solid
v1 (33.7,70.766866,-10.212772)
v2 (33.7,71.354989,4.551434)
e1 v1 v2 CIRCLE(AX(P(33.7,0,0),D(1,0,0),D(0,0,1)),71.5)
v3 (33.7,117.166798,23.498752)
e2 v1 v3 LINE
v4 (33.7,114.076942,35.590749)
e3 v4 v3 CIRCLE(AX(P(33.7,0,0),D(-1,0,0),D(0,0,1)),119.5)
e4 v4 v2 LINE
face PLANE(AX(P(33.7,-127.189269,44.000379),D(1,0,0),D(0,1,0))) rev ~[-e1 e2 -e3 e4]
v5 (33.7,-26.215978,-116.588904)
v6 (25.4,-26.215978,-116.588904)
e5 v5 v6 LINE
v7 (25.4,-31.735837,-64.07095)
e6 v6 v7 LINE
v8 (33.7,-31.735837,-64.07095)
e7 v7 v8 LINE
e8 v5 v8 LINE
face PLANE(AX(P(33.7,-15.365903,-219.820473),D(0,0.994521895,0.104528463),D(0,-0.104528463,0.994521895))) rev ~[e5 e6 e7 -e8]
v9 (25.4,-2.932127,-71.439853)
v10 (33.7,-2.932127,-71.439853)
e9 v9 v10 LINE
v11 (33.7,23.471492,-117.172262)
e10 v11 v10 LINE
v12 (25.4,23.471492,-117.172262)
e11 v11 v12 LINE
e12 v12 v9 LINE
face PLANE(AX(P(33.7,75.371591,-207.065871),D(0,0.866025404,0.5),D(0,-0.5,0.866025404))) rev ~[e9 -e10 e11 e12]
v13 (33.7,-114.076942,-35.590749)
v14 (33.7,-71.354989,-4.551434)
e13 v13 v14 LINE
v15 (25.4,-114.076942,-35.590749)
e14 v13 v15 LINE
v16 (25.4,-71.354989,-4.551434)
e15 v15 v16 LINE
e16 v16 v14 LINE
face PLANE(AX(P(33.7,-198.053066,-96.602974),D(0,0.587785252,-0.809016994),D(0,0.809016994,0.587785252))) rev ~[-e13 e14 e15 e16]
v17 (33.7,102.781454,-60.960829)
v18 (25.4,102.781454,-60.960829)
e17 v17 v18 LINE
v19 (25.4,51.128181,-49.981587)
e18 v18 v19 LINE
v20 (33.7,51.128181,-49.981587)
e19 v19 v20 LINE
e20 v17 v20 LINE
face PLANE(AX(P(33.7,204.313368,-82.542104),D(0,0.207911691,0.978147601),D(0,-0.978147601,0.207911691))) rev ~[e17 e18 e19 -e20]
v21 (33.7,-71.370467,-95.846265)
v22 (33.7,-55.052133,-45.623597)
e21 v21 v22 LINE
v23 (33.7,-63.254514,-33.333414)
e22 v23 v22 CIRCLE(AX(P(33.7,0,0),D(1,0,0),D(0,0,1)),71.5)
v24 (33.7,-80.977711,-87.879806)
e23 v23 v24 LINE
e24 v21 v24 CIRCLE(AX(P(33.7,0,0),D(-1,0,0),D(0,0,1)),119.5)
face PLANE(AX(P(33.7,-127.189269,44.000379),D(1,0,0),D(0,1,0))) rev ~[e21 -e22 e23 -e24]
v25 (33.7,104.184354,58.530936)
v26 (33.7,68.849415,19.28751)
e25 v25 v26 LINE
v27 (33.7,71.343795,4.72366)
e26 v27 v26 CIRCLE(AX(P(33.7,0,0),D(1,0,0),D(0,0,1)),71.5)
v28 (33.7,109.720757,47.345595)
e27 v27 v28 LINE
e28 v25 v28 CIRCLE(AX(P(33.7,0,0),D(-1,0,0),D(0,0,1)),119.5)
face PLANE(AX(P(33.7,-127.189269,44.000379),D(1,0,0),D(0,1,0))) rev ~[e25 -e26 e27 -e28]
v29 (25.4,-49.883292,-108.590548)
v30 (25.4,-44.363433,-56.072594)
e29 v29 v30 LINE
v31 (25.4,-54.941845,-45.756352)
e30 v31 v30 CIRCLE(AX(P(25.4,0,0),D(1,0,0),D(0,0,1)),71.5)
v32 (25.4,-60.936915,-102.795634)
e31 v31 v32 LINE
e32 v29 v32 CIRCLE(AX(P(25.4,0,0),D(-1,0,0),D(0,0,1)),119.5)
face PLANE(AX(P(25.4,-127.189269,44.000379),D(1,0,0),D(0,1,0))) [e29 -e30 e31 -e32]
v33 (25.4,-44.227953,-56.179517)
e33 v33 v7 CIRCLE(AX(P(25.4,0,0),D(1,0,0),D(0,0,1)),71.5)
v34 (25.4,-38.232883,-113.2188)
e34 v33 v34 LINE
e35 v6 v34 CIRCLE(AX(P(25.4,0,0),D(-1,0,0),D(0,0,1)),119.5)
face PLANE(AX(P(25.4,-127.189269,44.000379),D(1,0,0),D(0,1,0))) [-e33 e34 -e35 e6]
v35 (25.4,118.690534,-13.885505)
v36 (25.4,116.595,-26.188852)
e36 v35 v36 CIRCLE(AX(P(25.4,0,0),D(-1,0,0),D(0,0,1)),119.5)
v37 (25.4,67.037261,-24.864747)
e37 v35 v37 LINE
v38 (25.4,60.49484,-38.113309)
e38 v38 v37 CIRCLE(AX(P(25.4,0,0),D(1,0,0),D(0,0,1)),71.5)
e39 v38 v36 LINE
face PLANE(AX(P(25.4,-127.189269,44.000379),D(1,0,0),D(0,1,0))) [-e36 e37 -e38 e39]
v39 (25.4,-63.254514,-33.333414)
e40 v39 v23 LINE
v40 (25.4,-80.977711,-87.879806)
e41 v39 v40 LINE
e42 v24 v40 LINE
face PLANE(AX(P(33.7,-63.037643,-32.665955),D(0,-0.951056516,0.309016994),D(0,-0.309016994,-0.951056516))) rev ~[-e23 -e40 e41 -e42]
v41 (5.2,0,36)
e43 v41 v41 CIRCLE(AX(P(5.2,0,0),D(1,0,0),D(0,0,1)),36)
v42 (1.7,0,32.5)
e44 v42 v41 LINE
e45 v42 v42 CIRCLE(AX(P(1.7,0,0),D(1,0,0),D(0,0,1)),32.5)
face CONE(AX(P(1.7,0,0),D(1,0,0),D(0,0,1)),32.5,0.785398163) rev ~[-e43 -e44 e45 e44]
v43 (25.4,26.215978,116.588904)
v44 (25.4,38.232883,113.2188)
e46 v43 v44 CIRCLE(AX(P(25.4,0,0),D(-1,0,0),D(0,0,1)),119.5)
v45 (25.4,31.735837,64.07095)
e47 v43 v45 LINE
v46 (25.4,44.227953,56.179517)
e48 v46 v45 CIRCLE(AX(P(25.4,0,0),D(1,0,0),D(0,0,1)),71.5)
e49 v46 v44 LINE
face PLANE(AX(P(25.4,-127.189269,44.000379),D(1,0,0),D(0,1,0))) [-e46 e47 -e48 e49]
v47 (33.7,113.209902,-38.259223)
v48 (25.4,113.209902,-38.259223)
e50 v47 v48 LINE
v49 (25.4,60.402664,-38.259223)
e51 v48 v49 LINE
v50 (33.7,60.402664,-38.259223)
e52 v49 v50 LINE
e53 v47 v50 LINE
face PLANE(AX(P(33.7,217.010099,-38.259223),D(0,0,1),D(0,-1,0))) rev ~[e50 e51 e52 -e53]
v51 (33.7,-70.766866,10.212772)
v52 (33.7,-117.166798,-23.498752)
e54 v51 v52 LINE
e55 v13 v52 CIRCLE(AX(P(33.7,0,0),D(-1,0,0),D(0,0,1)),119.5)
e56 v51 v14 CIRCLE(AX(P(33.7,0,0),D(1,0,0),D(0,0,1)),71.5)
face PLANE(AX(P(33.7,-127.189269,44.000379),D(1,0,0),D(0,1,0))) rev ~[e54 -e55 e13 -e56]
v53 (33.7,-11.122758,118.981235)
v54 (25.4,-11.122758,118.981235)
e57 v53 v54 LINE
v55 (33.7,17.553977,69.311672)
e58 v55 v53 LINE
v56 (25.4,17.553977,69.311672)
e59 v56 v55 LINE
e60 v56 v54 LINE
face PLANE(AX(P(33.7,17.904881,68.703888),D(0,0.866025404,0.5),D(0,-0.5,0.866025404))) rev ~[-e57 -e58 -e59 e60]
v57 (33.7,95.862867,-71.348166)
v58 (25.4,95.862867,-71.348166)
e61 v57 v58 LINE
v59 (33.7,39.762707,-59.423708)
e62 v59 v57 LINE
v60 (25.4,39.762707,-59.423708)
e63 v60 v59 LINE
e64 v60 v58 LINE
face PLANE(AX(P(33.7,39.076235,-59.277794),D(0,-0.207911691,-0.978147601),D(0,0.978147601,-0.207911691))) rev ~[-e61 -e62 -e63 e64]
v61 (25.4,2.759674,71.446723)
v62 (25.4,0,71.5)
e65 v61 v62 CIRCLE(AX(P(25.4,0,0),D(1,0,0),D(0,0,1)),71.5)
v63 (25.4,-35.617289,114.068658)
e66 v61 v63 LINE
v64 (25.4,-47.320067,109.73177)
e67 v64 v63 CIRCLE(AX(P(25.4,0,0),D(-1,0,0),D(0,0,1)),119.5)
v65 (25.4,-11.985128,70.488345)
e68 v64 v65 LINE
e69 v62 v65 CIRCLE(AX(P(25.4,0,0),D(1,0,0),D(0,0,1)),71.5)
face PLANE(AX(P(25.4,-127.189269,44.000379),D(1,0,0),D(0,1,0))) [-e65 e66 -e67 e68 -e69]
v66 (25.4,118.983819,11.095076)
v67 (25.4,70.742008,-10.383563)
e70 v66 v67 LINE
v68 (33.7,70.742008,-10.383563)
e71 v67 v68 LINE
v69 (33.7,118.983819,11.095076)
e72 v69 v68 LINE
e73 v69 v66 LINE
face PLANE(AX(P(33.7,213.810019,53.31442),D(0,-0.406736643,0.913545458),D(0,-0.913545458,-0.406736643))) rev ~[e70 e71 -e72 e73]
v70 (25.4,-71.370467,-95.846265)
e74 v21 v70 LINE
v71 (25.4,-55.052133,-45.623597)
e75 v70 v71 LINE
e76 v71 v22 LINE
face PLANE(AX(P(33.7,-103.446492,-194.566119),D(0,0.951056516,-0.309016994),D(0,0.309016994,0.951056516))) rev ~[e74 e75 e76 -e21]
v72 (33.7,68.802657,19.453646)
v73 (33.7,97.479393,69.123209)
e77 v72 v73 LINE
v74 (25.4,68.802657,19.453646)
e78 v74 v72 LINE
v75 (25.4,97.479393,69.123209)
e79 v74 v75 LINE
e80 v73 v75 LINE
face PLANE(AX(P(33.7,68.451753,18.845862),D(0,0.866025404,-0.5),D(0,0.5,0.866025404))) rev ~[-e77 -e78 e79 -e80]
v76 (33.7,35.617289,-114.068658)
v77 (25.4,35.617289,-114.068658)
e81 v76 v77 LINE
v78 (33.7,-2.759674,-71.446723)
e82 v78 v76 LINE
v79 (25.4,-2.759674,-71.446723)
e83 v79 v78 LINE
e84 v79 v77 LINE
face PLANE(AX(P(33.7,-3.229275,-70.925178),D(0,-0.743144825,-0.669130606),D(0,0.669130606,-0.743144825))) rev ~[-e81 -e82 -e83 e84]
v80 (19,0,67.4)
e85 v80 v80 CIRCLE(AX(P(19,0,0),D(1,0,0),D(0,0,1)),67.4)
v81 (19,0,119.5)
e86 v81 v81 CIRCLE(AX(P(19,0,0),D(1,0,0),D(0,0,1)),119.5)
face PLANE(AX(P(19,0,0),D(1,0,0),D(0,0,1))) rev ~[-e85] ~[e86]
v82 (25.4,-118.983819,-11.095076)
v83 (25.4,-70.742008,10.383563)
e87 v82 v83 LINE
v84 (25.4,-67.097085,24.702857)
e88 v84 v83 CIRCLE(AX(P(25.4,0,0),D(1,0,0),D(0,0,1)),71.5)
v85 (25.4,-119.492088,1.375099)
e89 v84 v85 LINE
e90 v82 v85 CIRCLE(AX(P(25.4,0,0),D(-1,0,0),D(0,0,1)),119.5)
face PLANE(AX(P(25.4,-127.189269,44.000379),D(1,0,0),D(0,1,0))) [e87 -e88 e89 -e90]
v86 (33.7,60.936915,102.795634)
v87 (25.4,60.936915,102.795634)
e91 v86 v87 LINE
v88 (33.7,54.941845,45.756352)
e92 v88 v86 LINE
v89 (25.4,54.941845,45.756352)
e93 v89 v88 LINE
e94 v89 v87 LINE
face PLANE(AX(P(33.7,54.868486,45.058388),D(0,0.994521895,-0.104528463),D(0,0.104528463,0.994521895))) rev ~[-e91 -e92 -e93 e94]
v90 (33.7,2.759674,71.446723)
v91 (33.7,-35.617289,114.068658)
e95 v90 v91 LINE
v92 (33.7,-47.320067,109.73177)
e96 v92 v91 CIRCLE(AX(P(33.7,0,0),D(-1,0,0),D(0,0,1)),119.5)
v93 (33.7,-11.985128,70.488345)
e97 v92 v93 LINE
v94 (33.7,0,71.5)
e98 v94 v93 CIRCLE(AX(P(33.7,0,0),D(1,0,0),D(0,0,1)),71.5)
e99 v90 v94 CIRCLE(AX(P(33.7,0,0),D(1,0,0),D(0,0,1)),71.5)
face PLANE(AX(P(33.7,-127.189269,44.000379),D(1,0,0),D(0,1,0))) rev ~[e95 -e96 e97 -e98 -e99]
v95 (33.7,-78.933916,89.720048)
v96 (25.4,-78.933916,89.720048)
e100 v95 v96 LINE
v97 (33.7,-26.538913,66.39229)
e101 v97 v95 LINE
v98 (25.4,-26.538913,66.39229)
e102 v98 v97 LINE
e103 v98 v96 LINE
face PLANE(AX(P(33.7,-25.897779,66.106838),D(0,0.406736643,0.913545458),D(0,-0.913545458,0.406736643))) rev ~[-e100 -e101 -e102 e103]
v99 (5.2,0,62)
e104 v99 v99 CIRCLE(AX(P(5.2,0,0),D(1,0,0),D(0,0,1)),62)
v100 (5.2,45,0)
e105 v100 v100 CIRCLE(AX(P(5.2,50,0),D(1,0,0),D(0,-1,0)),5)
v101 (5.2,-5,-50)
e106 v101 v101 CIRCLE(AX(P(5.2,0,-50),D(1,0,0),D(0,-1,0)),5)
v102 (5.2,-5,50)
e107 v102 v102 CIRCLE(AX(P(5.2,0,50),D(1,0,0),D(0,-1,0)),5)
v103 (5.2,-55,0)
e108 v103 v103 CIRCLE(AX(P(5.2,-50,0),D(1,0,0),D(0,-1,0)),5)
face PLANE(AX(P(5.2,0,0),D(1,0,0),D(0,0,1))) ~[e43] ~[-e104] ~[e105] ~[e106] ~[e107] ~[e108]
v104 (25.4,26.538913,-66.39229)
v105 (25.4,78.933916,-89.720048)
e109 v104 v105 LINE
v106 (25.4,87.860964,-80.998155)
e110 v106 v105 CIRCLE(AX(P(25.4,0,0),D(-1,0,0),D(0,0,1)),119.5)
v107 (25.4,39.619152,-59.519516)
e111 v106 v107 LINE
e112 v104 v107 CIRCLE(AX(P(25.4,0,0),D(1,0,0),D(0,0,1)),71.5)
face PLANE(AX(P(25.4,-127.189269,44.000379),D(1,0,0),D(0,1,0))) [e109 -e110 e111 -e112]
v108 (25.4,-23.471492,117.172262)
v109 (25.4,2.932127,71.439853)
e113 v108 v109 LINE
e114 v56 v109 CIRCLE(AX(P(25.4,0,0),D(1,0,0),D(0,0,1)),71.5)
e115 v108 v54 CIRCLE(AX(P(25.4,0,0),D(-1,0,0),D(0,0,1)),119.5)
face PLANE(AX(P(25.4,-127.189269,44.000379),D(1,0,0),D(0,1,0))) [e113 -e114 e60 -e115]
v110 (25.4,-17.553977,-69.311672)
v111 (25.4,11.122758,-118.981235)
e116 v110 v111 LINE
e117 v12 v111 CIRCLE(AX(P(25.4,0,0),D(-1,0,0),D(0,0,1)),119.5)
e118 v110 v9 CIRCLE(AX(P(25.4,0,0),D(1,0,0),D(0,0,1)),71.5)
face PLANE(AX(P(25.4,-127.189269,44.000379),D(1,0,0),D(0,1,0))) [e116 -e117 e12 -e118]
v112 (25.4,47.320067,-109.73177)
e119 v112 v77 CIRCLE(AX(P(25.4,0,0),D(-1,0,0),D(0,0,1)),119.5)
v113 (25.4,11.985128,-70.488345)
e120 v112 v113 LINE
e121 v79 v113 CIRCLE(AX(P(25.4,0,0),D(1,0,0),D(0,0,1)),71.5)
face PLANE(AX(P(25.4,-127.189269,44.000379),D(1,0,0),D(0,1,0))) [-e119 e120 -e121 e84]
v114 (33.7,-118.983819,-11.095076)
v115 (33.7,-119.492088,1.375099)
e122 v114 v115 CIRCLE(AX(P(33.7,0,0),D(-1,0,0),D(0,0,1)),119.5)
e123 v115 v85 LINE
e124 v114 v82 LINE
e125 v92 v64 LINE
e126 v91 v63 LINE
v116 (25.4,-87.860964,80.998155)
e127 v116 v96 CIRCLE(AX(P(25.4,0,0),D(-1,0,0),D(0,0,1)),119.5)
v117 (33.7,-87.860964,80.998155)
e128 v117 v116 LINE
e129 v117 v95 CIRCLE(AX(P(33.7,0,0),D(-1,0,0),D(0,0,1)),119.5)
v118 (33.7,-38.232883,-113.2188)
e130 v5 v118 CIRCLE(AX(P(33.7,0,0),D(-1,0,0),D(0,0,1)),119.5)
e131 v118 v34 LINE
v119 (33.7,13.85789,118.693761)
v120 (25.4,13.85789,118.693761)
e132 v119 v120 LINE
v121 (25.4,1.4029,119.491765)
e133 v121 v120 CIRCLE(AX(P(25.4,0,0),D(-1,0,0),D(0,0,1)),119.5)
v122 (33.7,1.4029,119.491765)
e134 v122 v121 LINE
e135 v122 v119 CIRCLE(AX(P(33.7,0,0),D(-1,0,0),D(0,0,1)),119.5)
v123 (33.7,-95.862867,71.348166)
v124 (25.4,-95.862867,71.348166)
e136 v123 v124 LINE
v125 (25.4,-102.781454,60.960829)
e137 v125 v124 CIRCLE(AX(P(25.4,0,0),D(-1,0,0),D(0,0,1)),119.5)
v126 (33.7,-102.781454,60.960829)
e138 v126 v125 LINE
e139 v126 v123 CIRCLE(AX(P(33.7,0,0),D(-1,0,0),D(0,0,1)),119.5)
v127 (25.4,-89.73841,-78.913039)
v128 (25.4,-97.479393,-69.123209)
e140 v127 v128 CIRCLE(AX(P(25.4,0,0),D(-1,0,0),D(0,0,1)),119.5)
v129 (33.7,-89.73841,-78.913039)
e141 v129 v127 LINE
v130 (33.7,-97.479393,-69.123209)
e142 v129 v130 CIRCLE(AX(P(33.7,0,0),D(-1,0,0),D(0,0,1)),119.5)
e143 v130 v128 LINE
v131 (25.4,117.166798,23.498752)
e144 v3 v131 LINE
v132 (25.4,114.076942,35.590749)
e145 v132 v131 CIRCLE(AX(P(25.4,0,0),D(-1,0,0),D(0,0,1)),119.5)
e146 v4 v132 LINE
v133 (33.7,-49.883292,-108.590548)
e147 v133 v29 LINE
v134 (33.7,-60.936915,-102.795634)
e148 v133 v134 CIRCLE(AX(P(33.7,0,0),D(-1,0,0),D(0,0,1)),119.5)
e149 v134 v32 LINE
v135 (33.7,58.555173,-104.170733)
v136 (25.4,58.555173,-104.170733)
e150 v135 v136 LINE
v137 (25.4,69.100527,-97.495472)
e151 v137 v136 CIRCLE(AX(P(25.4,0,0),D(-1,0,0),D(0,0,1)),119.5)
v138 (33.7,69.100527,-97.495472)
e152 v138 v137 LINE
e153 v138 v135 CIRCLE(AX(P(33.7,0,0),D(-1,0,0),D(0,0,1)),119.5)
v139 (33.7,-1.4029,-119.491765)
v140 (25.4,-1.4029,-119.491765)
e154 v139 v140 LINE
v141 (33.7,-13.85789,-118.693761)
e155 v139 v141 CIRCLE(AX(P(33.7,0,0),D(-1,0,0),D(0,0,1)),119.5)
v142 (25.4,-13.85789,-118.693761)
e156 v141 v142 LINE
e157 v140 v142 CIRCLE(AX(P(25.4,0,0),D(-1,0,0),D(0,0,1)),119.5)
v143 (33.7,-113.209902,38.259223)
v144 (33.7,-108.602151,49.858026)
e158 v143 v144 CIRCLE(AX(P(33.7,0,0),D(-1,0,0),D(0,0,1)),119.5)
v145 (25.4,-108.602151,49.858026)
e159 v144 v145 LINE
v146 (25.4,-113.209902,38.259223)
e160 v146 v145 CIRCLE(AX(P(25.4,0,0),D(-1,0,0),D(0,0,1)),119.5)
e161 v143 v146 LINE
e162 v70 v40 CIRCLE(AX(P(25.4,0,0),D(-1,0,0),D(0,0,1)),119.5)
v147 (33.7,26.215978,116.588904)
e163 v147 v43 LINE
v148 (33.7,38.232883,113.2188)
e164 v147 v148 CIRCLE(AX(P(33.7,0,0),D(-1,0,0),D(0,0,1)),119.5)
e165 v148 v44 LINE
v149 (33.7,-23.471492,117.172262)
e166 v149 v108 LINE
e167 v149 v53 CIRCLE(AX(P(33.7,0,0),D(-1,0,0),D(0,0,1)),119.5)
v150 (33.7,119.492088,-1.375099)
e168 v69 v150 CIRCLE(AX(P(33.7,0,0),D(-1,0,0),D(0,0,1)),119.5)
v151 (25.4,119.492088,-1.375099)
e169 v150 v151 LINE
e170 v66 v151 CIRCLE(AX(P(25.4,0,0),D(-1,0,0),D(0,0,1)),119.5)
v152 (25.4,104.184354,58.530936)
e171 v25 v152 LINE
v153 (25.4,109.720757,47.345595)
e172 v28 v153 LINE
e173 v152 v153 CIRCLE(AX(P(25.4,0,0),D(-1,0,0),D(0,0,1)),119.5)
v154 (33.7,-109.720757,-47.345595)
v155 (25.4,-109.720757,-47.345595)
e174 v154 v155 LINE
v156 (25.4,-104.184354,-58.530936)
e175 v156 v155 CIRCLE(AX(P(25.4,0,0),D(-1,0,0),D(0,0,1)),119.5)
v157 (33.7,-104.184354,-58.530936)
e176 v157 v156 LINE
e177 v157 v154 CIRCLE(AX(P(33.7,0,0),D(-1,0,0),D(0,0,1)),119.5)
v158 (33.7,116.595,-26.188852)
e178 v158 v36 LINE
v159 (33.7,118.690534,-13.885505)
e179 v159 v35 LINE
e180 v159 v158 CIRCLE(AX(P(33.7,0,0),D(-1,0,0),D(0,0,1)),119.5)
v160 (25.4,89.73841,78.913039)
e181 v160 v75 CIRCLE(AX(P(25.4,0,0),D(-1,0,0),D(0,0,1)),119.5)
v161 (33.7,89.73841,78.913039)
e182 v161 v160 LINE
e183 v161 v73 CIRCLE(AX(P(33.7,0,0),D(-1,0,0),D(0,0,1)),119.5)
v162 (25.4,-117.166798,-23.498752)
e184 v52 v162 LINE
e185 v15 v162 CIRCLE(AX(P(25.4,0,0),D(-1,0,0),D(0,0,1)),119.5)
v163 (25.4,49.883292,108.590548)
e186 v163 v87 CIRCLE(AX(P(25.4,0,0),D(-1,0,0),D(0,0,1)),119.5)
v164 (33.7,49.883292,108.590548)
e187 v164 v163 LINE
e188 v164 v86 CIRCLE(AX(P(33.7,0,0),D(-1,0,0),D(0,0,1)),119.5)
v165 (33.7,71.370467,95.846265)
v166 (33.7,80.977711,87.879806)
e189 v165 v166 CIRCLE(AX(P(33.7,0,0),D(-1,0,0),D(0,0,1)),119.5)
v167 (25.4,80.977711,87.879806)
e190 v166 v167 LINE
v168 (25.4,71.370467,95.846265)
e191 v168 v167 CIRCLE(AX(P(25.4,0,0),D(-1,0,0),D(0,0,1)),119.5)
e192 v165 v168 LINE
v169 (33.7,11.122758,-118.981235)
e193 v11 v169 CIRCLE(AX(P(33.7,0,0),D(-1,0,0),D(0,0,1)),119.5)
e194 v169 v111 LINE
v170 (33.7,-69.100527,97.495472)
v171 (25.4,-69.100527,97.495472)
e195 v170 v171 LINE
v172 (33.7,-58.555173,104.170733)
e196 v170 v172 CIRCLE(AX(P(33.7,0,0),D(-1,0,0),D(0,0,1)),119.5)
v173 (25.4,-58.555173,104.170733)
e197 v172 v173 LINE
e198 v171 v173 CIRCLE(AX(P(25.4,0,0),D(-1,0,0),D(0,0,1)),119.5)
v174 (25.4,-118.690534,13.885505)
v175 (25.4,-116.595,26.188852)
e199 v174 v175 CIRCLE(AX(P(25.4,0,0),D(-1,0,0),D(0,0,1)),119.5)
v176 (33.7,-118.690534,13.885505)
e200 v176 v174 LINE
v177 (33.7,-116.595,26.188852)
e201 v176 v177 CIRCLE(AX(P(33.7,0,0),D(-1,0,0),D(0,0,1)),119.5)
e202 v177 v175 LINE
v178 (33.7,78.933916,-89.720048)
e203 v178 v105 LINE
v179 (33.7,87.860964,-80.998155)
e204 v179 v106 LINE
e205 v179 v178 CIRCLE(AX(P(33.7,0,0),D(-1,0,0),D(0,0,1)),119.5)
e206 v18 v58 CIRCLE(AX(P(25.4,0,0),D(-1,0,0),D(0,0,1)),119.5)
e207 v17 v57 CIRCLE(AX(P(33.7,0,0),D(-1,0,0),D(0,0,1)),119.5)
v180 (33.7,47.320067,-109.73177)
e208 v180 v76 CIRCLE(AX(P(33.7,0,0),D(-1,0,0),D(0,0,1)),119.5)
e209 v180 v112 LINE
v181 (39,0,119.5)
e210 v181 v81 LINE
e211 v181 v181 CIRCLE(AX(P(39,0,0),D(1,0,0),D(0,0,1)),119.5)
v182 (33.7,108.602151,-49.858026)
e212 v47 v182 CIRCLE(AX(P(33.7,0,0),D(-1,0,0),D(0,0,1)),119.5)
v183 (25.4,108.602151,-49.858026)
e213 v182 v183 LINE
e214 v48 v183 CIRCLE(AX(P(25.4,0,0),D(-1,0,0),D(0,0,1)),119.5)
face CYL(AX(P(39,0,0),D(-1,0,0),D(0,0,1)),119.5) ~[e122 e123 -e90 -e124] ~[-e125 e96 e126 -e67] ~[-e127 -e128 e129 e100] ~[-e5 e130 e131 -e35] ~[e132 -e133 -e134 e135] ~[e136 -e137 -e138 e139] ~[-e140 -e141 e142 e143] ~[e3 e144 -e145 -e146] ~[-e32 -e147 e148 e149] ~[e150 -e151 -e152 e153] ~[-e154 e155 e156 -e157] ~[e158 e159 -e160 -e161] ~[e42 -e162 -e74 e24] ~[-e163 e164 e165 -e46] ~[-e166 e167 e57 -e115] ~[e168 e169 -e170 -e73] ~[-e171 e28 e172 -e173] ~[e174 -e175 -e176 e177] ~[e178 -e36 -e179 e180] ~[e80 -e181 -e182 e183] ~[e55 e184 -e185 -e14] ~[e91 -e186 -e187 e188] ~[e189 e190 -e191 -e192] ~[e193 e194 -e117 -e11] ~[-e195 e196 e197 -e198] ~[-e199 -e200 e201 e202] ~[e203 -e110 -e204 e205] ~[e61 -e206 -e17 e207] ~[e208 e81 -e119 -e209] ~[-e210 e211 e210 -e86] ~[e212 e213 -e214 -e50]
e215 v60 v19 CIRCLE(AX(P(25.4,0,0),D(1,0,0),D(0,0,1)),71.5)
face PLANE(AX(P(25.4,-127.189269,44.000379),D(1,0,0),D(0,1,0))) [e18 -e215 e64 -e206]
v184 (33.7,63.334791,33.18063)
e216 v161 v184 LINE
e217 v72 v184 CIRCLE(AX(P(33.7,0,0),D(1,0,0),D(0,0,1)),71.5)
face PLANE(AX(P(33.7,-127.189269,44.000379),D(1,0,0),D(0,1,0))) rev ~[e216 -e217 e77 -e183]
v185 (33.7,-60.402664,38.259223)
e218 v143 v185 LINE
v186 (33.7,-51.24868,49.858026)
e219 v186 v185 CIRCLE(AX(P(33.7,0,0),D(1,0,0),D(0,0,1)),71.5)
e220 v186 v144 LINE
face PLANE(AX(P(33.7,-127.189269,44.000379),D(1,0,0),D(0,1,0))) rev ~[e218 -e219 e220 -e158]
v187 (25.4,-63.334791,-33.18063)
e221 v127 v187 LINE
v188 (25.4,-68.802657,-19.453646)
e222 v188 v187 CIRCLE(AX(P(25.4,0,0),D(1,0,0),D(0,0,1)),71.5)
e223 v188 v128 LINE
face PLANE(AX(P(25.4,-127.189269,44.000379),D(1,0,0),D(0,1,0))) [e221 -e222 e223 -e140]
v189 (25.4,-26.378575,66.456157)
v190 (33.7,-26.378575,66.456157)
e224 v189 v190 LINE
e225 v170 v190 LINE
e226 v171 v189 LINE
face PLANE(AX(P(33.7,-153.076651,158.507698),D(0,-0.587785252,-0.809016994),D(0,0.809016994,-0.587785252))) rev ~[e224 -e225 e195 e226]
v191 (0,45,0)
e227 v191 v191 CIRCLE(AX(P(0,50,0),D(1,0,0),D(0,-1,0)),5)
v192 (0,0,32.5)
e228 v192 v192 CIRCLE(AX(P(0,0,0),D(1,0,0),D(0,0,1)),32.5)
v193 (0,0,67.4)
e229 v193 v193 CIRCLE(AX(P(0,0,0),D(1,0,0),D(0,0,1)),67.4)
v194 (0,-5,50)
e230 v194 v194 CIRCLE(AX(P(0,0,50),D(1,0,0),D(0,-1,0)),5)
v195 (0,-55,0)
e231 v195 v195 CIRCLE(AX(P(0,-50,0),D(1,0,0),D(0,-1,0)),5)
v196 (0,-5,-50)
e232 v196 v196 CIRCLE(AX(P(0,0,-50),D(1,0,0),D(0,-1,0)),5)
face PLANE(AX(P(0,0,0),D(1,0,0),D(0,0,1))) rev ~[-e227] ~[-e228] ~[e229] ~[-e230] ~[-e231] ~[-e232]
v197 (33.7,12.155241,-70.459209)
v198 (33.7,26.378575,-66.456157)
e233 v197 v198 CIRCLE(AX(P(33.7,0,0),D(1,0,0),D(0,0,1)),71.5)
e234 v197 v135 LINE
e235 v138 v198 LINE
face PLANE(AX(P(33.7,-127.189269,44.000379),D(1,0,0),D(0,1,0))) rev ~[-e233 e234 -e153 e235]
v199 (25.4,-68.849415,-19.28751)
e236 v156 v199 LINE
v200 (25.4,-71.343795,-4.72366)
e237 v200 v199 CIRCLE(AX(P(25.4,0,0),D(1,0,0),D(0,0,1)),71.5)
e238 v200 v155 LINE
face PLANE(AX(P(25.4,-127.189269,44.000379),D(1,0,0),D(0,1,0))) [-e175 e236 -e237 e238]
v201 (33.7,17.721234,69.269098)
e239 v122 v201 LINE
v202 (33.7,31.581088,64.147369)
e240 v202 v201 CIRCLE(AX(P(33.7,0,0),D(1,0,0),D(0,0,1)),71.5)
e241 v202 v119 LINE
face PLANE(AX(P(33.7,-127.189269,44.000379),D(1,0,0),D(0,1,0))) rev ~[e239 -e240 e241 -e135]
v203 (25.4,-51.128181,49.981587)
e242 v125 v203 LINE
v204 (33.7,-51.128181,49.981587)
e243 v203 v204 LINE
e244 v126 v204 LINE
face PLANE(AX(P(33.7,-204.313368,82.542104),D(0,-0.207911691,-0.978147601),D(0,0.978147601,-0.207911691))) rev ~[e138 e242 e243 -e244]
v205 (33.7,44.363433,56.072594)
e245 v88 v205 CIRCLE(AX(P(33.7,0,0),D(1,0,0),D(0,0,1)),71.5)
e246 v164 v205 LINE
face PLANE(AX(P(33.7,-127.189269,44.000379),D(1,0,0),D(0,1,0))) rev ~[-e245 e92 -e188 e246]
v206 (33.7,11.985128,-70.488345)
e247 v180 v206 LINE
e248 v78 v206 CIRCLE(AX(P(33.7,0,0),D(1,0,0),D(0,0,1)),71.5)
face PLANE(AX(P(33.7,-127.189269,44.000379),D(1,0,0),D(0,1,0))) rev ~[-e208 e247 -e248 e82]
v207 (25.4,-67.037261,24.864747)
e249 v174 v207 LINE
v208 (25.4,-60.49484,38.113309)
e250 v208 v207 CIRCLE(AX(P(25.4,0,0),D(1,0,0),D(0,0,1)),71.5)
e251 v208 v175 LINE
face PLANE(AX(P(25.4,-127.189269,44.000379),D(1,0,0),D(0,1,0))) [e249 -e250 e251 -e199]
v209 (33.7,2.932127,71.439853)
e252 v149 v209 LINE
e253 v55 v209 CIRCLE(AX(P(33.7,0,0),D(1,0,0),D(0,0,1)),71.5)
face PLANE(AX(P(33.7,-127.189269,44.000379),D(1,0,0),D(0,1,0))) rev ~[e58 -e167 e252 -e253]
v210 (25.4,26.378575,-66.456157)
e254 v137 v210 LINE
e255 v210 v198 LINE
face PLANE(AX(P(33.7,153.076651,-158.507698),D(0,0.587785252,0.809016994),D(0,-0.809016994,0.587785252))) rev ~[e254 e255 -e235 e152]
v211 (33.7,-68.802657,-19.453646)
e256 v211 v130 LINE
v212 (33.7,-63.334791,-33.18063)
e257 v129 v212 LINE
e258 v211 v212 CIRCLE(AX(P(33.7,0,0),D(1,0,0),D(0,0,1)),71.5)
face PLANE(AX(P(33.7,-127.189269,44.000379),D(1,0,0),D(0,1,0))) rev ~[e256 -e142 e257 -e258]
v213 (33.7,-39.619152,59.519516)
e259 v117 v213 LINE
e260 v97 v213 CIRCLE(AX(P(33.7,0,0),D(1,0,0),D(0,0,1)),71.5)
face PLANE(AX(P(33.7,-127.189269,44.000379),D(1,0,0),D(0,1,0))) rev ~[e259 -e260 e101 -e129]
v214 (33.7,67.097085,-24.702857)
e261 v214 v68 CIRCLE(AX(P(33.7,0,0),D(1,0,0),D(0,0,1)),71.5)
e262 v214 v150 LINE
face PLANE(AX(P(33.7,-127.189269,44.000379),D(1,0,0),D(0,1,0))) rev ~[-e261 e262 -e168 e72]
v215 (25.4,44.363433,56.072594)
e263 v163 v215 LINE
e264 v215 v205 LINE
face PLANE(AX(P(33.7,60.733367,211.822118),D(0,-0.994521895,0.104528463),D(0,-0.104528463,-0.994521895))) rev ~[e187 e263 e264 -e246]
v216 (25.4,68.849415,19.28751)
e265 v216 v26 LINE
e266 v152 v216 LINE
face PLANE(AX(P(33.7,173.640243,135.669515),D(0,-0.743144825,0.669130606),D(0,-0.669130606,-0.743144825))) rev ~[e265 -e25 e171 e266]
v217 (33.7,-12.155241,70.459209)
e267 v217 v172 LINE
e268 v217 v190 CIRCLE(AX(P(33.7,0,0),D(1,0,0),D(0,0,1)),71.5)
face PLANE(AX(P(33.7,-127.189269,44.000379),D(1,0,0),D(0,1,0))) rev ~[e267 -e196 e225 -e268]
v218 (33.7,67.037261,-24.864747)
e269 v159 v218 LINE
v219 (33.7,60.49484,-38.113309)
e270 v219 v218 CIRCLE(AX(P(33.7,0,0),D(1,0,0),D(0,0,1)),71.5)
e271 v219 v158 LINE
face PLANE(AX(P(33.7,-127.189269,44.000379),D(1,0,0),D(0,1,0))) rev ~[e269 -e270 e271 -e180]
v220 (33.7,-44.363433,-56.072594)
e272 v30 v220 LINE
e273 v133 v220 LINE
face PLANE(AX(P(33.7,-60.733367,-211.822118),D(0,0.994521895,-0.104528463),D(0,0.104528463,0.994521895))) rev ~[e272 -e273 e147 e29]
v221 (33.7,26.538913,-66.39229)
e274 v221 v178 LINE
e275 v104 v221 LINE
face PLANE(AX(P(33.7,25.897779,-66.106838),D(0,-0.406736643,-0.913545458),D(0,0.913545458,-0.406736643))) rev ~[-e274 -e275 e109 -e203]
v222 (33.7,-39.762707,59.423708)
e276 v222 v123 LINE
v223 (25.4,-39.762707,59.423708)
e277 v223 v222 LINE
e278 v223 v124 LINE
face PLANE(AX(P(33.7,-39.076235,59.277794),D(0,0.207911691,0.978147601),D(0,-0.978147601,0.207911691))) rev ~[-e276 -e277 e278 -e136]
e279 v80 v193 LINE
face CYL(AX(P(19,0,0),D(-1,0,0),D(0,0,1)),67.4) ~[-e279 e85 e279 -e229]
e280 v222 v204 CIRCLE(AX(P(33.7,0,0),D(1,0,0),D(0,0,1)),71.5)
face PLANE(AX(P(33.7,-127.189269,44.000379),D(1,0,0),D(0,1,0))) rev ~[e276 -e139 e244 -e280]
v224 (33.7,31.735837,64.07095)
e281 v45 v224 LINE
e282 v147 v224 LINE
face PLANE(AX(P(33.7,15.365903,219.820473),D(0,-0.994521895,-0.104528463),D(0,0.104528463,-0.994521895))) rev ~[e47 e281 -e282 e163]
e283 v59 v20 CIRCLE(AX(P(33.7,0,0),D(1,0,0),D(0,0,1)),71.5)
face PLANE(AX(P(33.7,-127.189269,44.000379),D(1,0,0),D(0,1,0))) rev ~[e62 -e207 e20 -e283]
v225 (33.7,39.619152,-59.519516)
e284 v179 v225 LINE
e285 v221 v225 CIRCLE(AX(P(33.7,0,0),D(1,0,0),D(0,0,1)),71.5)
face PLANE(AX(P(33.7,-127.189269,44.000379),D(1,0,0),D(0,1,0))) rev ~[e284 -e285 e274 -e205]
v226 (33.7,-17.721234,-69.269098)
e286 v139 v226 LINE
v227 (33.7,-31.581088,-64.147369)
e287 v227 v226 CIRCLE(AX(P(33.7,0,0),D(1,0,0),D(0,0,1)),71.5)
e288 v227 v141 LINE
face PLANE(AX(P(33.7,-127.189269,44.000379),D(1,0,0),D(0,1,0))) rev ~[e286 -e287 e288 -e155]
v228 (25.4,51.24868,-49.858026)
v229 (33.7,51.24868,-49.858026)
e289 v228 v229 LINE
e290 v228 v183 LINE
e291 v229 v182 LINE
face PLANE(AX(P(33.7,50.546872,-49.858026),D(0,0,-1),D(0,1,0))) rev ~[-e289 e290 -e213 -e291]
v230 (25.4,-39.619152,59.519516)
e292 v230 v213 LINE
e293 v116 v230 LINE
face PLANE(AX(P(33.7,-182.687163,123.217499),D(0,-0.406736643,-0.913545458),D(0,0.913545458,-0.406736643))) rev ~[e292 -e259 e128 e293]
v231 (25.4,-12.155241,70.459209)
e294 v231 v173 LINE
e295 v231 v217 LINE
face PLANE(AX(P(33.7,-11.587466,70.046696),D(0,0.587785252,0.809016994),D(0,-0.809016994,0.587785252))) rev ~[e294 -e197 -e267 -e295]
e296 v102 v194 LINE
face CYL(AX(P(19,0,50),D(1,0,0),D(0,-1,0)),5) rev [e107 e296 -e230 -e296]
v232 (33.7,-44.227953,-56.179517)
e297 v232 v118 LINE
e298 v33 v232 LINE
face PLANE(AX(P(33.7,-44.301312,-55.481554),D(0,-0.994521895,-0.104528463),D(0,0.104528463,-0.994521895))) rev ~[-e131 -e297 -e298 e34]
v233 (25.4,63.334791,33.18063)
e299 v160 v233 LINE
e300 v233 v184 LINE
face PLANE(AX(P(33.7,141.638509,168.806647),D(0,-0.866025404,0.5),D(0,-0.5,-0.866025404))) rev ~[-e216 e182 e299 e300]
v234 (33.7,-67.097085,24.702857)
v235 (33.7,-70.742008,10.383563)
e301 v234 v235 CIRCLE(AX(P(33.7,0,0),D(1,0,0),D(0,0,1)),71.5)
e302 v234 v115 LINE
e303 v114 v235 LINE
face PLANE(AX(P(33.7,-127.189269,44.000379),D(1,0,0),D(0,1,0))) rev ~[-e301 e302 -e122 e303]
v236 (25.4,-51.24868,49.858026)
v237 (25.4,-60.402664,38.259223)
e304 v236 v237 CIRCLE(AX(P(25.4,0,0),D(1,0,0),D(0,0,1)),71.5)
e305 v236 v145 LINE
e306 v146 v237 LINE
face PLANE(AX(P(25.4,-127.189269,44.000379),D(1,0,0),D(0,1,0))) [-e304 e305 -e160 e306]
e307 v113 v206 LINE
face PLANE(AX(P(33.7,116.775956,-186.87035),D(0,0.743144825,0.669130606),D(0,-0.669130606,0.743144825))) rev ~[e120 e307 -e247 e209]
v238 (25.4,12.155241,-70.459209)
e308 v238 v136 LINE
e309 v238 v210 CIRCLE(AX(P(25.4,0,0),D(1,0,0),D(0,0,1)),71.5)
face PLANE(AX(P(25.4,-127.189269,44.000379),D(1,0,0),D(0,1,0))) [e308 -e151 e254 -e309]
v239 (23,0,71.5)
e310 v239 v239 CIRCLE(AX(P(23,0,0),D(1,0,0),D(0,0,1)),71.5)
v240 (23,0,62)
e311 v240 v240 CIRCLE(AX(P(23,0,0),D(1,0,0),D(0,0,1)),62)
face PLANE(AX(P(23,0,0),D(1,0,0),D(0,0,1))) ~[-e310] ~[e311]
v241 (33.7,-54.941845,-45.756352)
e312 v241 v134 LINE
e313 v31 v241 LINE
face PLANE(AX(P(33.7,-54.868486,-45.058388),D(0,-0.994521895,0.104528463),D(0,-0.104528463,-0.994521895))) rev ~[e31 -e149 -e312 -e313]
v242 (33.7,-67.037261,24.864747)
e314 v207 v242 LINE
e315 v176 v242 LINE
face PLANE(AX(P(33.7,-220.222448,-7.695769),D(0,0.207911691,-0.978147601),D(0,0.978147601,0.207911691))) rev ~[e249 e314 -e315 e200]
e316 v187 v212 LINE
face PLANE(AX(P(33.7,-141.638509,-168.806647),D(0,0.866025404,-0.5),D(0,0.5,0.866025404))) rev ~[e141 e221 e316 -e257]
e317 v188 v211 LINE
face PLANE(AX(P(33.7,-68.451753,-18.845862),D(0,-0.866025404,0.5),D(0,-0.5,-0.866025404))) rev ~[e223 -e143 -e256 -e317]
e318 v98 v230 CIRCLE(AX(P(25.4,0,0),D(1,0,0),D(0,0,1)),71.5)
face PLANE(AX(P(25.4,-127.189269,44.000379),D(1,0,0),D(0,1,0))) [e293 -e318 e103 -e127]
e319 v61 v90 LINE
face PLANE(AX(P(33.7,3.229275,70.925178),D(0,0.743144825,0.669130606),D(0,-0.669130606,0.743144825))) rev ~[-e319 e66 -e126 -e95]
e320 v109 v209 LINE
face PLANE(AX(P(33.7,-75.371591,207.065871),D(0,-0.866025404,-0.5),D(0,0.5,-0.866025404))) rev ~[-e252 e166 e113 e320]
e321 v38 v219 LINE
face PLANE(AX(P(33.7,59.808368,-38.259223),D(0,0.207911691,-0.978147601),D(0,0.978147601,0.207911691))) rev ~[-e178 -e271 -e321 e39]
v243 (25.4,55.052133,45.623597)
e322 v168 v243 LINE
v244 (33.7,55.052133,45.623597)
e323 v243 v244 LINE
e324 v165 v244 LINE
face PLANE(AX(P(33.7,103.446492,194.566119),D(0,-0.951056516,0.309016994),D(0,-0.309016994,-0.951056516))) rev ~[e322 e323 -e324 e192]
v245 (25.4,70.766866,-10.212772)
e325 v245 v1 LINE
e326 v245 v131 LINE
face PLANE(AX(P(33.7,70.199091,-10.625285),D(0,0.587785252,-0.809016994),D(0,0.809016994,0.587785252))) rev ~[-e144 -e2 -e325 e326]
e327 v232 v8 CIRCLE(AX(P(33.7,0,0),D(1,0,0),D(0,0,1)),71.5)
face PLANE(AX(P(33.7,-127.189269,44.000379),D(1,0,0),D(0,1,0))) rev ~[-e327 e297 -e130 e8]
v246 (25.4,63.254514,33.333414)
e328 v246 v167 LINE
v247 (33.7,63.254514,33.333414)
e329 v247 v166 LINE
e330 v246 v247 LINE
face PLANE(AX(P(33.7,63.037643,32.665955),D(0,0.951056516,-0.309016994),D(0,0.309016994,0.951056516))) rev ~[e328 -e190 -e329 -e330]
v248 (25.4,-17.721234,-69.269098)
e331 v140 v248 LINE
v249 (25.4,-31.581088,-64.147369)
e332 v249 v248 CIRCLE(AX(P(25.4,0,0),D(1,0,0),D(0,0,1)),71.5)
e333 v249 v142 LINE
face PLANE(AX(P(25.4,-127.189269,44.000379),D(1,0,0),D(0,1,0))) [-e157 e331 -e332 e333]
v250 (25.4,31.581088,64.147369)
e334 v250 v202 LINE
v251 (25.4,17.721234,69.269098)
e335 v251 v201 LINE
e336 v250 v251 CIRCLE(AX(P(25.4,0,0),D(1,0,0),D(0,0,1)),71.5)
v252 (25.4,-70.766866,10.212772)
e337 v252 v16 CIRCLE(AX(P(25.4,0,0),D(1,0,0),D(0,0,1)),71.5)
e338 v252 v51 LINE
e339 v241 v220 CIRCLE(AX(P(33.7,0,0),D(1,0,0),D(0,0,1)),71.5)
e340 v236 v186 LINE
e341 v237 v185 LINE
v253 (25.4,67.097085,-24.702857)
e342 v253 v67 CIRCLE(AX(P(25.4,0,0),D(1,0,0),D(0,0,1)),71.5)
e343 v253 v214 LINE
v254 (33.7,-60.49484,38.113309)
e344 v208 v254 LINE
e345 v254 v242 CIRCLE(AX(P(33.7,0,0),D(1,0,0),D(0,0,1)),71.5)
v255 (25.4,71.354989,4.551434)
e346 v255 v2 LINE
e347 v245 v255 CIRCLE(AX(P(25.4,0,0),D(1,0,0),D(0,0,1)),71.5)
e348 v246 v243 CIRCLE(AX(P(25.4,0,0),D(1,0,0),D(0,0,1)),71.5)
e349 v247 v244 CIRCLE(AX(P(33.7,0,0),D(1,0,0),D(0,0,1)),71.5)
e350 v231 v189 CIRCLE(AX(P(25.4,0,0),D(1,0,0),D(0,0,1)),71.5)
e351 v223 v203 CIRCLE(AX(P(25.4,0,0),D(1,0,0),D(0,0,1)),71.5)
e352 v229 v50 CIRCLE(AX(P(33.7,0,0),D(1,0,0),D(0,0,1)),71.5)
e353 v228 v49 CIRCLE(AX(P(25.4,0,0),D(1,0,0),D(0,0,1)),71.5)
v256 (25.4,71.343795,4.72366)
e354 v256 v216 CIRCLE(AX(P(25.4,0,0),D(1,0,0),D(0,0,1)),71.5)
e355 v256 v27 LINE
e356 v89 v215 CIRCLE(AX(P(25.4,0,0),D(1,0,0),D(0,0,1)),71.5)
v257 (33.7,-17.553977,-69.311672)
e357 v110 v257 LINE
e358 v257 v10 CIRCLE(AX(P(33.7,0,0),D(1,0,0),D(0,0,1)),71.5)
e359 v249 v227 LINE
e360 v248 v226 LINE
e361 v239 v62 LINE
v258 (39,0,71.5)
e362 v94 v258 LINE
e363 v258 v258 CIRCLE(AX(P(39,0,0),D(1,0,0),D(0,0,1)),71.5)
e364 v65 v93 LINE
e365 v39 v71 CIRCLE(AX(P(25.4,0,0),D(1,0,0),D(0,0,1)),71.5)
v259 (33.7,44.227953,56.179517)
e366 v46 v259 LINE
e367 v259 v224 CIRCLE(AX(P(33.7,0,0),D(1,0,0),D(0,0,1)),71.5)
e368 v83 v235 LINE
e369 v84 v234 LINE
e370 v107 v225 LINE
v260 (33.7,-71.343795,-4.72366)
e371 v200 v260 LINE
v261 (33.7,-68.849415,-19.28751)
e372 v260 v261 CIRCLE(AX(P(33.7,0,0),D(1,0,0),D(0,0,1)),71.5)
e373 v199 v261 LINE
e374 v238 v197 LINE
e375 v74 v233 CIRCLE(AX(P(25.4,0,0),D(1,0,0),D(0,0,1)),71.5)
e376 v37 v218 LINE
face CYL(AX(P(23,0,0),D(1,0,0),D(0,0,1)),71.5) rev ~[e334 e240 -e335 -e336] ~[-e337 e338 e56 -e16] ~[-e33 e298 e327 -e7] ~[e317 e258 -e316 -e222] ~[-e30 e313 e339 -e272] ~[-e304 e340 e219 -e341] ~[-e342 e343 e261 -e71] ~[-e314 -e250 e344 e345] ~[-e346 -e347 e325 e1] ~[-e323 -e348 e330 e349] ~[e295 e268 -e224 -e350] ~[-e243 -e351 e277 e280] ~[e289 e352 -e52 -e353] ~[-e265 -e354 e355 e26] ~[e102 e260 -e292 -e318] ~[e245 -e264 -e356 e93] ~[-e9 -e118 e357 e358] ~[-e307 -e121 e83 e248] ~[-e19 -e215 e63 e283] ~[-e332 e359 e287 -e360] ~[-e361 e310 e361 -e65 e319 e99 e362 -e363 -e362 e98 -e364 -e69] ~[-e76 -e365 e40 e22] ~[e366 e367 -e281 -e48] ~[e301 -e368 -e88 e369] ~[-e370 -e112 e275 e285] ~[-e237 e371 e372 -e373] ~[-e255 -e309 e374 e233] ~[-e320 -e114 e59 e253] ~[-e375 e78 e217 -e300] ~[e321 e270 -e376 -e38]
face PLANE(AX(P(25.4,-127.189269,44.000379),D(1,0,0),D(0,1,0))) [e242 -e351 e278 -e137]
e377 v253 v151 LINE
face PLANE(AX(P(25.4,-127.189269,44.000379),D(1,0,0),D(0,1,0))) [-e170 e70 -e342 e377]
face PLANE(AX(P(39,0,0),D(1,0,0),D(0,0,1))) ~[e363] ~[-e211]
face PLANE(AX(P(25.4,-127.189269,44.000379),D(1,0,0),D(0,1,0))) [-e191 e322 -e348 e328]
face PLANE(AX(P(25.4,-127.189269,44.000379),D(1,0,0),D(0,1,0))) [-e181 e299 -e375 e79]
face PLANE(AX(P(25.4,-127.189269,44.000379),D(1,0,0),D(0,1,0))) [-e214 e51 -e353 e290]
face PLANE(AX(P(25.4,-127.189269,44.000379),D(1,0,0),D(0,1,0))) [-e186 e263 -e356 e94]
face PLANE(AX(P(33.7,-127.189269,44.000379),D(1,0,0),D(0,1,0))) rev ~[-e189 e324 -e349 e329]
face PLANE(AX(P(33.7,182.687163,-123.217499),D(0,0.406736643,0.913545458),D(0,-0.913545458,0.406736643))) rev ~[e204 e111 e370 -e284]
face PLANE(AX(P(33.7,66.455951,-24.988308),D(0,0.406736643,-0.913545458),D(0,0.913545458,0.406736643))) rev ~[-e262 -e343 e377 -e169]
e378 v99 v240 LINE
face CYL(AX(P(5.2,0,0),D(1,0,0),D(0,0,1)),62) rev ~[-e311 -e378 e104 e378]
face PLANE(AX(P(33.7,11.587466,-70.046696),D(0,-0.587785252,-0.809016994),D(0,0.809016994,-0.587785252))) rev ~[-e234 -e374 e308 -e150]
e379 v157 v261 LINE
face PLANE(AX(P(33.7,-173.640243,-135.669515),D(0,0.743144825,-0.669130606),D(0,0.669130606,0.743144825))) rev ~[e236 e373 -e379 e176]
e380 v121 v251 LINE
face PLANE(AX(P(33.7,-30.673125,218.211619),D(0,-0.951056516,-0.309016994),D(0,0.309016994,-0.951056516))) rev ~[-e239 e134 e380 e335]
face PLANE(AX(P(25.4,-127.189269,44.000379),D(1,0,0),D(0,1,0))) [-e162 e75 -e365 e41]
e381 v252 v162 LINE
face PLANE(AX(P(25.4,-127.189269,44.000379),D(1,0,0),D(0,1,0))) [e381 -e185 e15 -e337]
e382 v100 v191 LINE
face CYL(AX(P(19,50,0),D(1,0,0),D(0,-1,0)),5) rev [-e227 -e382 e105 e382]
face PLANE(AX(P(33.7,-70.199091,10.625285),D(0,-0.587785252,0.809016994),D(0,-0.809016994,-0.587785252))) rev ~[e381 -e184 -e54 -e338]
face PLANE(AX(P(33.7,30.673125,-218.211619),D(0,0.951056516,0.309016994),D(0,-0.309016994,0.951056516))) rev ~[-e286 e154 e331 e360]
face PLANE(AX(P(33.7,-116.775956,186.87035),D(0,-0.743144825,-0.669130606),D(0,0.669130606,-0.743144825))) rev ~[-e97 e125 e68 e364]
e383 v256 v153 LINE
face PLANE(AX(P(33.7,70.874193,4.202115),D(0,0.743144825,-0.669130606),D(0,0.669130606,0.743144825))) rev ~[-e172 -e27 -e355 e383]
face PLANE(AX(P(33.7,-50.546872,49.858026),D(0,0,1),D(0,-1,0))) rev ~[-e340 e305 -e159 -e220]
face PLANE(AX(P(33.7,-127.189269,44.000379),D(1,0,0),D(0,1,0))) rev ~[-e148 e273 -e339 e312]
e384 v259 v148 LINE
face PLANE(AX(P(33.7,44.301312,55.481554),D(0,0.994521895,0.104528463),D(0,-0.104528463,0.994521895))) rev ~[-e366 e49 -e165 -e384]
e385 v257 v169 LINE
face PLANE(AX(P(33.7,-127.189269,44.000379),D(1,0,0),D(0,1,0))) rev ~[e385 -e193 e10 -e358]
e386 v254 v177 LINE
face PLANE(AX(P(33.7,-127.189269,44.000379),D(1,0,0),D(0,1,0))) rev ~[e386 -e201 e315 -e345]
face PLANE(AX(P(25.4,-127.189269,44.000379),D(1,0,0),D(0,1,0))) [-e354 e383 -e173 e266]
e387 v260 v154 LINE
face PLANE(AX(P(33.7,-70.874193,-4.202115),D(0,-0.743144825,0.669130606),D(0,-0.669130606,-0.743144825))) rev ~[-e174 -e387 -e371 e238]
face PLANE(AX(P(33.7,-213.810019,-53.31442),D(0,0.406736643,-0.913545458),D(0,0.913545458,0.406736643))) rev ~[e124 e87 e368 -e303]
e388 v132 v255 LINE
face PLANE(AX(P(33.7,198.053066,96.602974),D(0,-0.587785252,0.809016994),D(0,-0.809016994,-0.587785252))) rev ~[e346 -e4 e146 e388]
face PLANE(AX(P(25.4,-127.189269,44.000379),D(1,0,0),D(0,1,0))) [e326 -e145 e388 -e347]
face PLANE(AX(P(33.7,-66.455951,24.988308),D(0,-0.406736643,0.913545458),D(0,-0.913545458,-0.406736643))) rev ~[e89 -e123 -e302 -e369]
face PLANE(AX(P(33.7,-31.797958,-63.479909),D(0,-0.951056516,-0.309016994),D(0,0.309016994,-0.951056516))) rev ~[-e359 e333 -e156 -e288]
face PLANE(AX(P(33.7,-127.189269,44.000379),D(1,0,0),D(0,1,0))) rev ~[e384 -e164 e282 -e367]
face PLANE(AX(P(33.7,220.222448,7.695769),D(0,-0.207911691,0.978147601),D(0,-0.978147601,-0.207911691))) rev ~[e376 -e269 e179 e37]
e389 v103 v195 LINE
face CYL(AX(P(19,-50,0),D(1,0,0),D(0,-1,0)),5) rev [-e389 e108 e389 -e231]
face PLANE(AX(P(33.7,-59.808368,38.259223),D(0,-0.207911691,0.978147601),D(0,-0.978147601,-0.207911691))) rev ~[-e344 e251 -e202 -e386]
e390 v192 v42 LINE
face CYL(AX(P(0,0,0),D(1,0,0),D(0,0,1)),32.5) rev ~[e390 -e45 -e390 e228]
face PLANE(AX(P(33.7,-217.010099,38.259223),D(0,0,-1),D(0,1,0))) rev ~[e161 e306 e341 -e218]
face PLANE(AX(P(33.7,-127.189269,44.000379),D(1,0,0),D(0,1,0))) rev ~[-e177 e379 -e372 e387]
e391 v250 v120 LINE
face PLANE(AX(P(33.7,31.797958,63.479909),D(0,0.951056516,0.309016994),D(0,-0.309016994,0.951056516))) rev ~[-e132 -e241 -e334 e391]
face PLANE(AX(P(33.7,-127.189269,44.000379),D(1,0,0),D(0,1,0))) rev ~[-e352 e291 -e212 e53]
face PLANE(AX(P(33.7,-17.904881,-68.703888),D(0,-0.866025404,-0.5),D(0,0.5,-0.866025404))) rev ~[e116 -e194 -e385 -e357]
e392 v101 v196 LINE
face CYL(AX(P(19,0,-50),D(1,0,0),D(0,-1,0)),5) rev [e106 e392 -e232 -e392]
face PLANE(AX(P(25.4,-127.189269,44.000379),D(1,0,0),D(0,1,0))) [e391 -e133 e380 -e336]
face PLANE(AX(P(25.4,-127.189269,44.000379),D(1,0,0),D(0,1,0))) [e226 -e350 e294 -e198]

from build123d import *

# Parameters (mm, degrees)
F2_SIZE  = 3.5
F3_R     = 5
F4_DEPTH = 19.001
F6_START = -5.3
F6_DEPTH = 8.3


with BuildPart() as f1:
    # F0 (on Front) → F1 (revolve)
    with BuildSketch(Plane.XZ):
        Polygon((0, 67.4), (0, 32.5), (5.2, 32.5), (5.2, 62), (23, 62), (23, 71.5), (39, 71.5), (39, 119.5), (19, 119.5), (19, 67.4), align=None)
    revolve(axis=Axis((17.3667171039, 0, 0), (1, 0, 0)))

    # F2
    f2_edges = [f1.edges().sort_by_distance(p)[0] for p in [
        (5.2, 0, -32.5),
    ]]
    chamfer(f2_edges, length=F2_SIZE)

    # F3 (on face) → F4 (cut, through all)
    with BuildSketch(Plane(origin=(19, 0, 0), x_dir=(0, -1, 0), z_dir=(-1, 0, 0))):
        with Locations((0, 50)):
            Circle(F3_R)
        with Locations((-50, 0)):
            Circle(F3_R)
        with Locations((50, 0)):
            Circle(F3_R)
        with Locations((0, -50)):
            Circle(F3_R)
    extrude(amount=F4_DEPTH, mode=Mode.SUBTRACT)

    # F5 (on face) → F6 (cut)
    with BuildSketch(Plane.YZ.offset(39).offset(F6_START)):
        Polygon((-46.1890190468, 38.2592231035), (-37.225138396, 38.2592231035), (-37.225138396, 47.0264043319), (-50.546871926, 49.8580262065), (-217.0100994408, 49.8580262065), (-217.0100994408, 38.2592231035), (-59.8083680284, 38.2592231035), (-46.7777463385, 41.0289672464), align=None)
        Polygon((-44.3662195739, 29.6836258198), (-46.1890190468, 38.2592231035), (-59.8083680284, 38.2592231035), (-222.6339746325, 3.6495720119), (-220.2224478679, -7.6957694146), (-66.4559514556, 24.9883083628), (-54.2859423014, 30.4067455387), (-53.1342179257, 27.8199302374), align=None)
        Polygon((-59.8083680284, 38.2592231035), (-46.1890190468, 38.2592231035), (-46.7777463385, 41.0289672464), align=None)
        Polygon((-50.546871926, 49.8580262065), (-37.225138396, 47.0264043319), (-37.225138396, 49.8580262065), align=None)
        Polygon((-37.225138396, 49.8580262065), (-37.225138396, 47.0264043319), (-28.4571400442, 45.1627087495), (-26.6343405713, 53.7383060332), (-39.0762349696, 59.2777943189), (-201.9018415736, 93.8874454105), (-204.3133683382, 82.5421039839), (-50.546871926, 49.8580262065), align=None)
        Polygon((-49.5682840636, 19.8107116499), (-53.1342179257, 27.8199302374), (-66.4559514556, 24.9883083628), (-218.5276768163, -42.7183859921), (-213.8100185785, -53.3144198809), (-70.1990909132, 10.6252846394), (-59.4215820929, 18.4556031433), (-57.757196515, 16.1647729251), align=None)
        Polygon((-66.4559514556, 24.9883083628), (-53.1342179257, 27.8199302374), (-54.2859423014, 30.4067455387), align=None)
        Polygon((-26.0456132796, 56.508050176), (-26.6343405713, 53.7383060332), (-18.44542812, 50.0923673084), (-14.8794942579, 58.1015858959), (-25.8977790364, 66.1068383731), (-177.9695043971, 133.8135327281), (-182.6871626349, 123.2174988393), (-39.0762349696, 59.2777943189), align=None)
        Polygon((-39.0762349696, 59.2777943189), (-26.6343405713, 53.7383060332), (-26.0456132796, 56.508050176), align=None)
        Polygon((-52.6039766848, 9.0719743186), (-57.757196515, 16.1647729251), (-70.1990909132, 10.6252846394), (-204.8706709112, -87.2193455428), (-198.053065503, -96.6029743675), (-70.8741932453, -4.2021150085), (-61.9602136106, 5.6978623307), (-59.8559084668, 3.8031374688), align=None)
        Polygon((-70.1990909132, 10.6252846394), (-57.757196515, 16.1647729251), (-59.4215820929, 18.4556031433), align=None)
        Polygon((-13.7277698822, 60.6884011972), (-14.8794942579, 58.1015858959), (-7.6275624759, 52.8327490461), (-2.4743426457, 59.9255476526), (-11.587465888, 70.0466963747), (-146.259045886, 167.8913265569), (-153.0766512942, 158.5076977322), (-25.8977790364, 66.1068383731), align=None)
        Polygon((-25.8977790364, 66.1068383731), (-14.8794942579, 58.1015858959), (-13.7277698822, 60.6884011972), align=None)
        Polygon((-53.3406231029, -2.0632518226), (-59.8559084668, 3.8031374688), (-70.8741932453, -4.2021150085), (-182.2598336087, -127.9084011684), (-173.640243101, -135.6695153217), (-68.4517532404, -18.8458620665), (-61.7908864754, -7.3089024071), (-59.3386299981, -8.7247133444), align=None)
        Polygon((-70.8741932453, -4.2021150085), (-59.8559084668, 3.8031374688), (-61.9602136106, 5.6978623307), align=None)
        Polygon((-0.8099570678, 62.2163778708), (-2.4743426457, 59.9255476526), (3.5236642494, 53.2640861308), (10.0389496133, 59.1304754222), (3.2292751225, 70.9251776233), (-108.156365241, 194.6314637832), (-116.7759557487, 186.8703496299), (-11.587465888, 70.0466963747), align=None)
        Polygon((-11.587465888, 70.0466963747), (-2.4743426457, 59.9255476526), (-0.8099570678, 62.2163778708), align=None)
        Polygon((-51.7460283347, -13.1083039586), (-59.3386299981, -8.7247133444), (-68.4517532404, -18.8458620665), (-151.6833669978, -163.0072458903), (-141.6385088571, -168.8066474418), (-63.0376431509, -32.6659545198), (-58.9210010956, -19.9962330377), (-56.2279686601, -20.8712523186), align=None)
        Polygon((-68.4517532404, -18.8458620665), (-59.3386299981, -8.7247133444), (-61.7908864754, -7.3089024071), align=None)
        Polygon((12.1432547571, 61.0252002841), (10.0389496133, 59.1304754222), (14.5208899387, 51.3675270621), (22.113491602, 55.7511176763), (17.9048813144, 68.703888273), (-65.326732443, 212.8652720968), (-75.3715905837, 207.0658705453), (3.2292751225, 70.9251776233), align=None)
        Polygon((3.2292751225, 70.9251776233), (10.0389496133, 59.1304754222), (12.1432547571, 61.0252002841), align=None)
        Polygon((-47.8898838233, -23.580460311), (-56.2279686601, -20.8712523186), (-63.0376431509, -32.6659545198), (-114.4776093915, -190.9818917712), (-103.4464921192, -194.5661190445), (-54.8684855676, -45.0583880119), (-53.4759852337, -31.809632332), (-50.65987528, -32.1056174151), align=None)
        Polygon((-63.0376431509, -32.6659545198), (-56.2279686601, -20.8712523186), (-58.9210010956, -19.9962330377), align=None)
        Polygon((24.5657480794, 57.1669286136), (22.113491602, 55.7511176763), (24.8834830587, 47.2259605721), (33.2215678954, 49.9351685644), (31.7979582757, 63.4799093273), (-19.6420079649, 221.7958465788), (-30.6731252372, 218.2116193056), (17.9048813144, 68.703888273), align=None)
        Polygon((17.9048813144, 68.703888273), (22.113491602, 55.7511176763), (24.5657480794, 57.1669286136), align=None)
        Polygon((-41.9407215877, -33.0220373961), (-50.65987528, -32.1056174151), (-54.8684855676, -45.0583880119), (-72.2686309303, -210.609712549), (-60.7333672843, -211.8221176131), (-44.3013118768, -55.4815537337), (-45.6938122107, -42.2327980539), (-42.877702257, -41.9368129708), align=None)
        Polygon((-54.8684855676, -45.0583880119), (-50.65987528, -32.1056174151), (-53.4759852337, -31.809632332), align=None)
        Polygon((35.914600331, 50.8101878453), (33.2215678954, 49.9351685644), (34.1585485648, 41.0203929898), (42.877702257, 41.9368129708), (44.3013118768, 55.4815537337), (26.9011665141, 221.0328782709), (15.3659028681, 219.8204732068), (31.7979582757, 63.4799093273), align=None)
        Polygon((31.7979582757, 63.4799093273), (33.2215678954, 49.9351685644), (35.914600331, 50.8101878453), align=None)
        Polygon((-34.1585485648, -41.0203929898), (-42.877702257, -41.9368129708), (-44.3013118768, -55.4815537337), (-26.9011665141, -221.0328782709), (-15.3659028681, -219.8204732068), (-31.7979582757, -63.4799093273), (-35.914600331, -50.8101878453), (-33.2215678954, -49.9351685644), align=None)
        Polygon((-44.3013118768, -55.4815537337), (-42.877702257, -41.9368129708), (-45.6938122107, -42.2327980539), align=None)
        Polygon((45.6938122107, 42.2327980539), (42.877702257, 41.9368129708), (41.9407215877, 33.0220373961), (50.65987528, 32.1056174151), (54.8684855676, 45.0583880119), (72.2686309303, 210.609712549), (60.7333672843, 211.8221176131), (44.3013118768, 55.4815537337), align=None)
        Polygon((44.3013118768, 55.4815537337), (42.877702257, 41.9368129708), (45.6938122107, 42.2327980539), align=None)
        Polygon((-24.8834830587, -47.2259605721), (-33.2215678954, -49.9351685644), (-31.7979582757, -63.4799093273), (19.6420079649, -221.7958465788), (30.6731252372, -218.2116193056), (-17.9048813144, -68.703888273), (-24.5657480794, -57.1669286136), (-22.113491602, -55.7511176763), align=None)
        Polygon((-31.7979582757, -63.4799093273), (-33.2215678954, -49.9351685644), (-35.914600331, -50.8101878453), align=None)
        Polygon((53.4759852337, 31.809632332), (50.65987528, 32.1056174151), (47.8898838233, 23.580460311), (56.2279686601, 20.8712523186), (63.0376431509, 32.6659545198), (114.4776093915, 190.9818917712), (103.4464921192, 194.5661190445), (54.8684855676, 45.0583880119), align=None)
        Polygon((54.8684855676, 45.0583880119), (50.65987528, 32.1056174151), (53.4759852337, 31.809632332), align=None)
        Polygon((-14.5208899387, -51.3675270621), (-22.113491602, -55.7511176763), (-17.9048813144, -68.703888273), (65.326732443, -212.8652720968), (75.3715905837, -207.0658705453), (-3.2292751225, -70.9251776233), (-12.1432547571, -61.0252002841), (-10.0389496133, -59.1304754222), align=None)
        Polygon((-17.9048813144, -68.703888273), (-22.113491602, -55.7511176763), (-24.5657480794, -57.1669286136), align=None)
        Polygon((58.9210010956, 19.9962330377), (56.2279686601, 20.8712523186), (51.7460283347, 13.1083039586), (59.3386299981, 8.7247133444), (68.4517532404, 18.8458620665), (151.6833669978, 163.0072458903), (141.6385088571, 168.8066474418), (63.0376431509, 32.6659545198), align=None)
        Polygon((63.0376431509, 32.6659545198), (56.2279686601, 20.8712523186), (58.9210010956, 19.9962330377), align=None)
        Polygon((-3.5236642494, -53.2640861308), (-10.0389496133, -59.1304754222), (-3.2292751225, -70.9251776233), (108.156365241, -194.6314637832), (116.7759557487, -186.8703496299), (11.587465888, -70.0466963747), (0.8099570678, -62.2163778708), (2.4743426457, -59.9255476526), align=None)
        Polygon((-3.2292751225, -70.9251776233), (-10.0389496133, -59.1304754222), (-12.1432547571, -61.0252002841), align=None)
        Polygon((61.7908864754, 7.3089024071), (59.3386299981, 8.7247133444), (53.3406231029, 2.0632518226), (59.8559084668, -3.8031374688), (70.8741932453, 4.2021150085), (182.2598336087, 127.9084011684), (173.640243101, 135.6695153217), (68.4517532404, 18.8458620665), align=None)
        Polygon((68.4517532404, 18.8458620665), (59.3386299981, 8.7247133444), (61.7908864754, 7.3089024071), align=None)
        Polygon((7.6275624759, -52.8327490461), (2.4743426457, -59.9255476526), (11.587465888, -70.0466963747), (146.259045886, -167.8913265569), (153.0766512942, -158.5076977322), (25.8977790364, -66.1068383731), (13.7277698822, -60.6884011972), (14.8794942579, -58.1015858959), align=None)
        Polygon((11.587465888, -70.0466963747), (2.4743426457, -59.9255476526), (0.8099570678, -62.2163778708), align=None)
        Polygon((61.9602136106, -5.6978623307), (59.8559084668, -3.8031374688), (52.6039766848, -9.0719743186), (57.757196515, -16.1647729251), (70.1990909132, -10.6252846394), (204.8706709112, 87.2193455428), (198.053065503, 96.6029743675), (70.8741932453, 4.2021150085), align=None)
        Polygon((70.8741932453, 4.2021150085), (59.8559084668, -3.8031374688), (61.9602136106, -5.6978623307), align=None)
        Polygon((18.44542812, -50.0923673084), (14.8794942579, -58.1015858959), (25.8977790364, -66.1068383731), (177.9695043971, -133.8135327281), (182.6871626349, -123.2174988393), (39.0762349696, -59.2777943189), (26.0456132796, -56.508050176), (26.6343405713, -53.7383060332), align=None)
        Polygon((25.8977790364, -66.1068383731), (14.8794942579, -58.1015858959), (13.7277698822, -60.6884011972), align=None)
        Polygon((59.4215820929, -18.4556031433), (57.757196515, -16.1647729251), (49.5682840636, -19.8107116499), (53.1342179257, -27.8199302374), (66.4559514556, -24.9883083628), (218.5276768163, 42.7183859921), (213.8100185785, 53.3144198809), (70.1990909132, -10.6252846394), align=None)
        Polygon((70.1990909132, -10.6252846394), (57.757196515, -16.1647729251), (59.4215820929, -18.4556031433), align=None)
        Polygon((28.4571400442, -45.1627087495), (26.6343405713, -53.7383060332), (39.0762349696, -59.2777943189), (201.9018415736, -93.8874454105), (204.3133683382, -82.5421039839), (50.546871926, -49.8580262065), (37.225138396, -49.8580262065), (37.225138396, -47.0264043319), align=None)
        Polygon((39.0762349696, -59.2777943189), (26.6343405713, -53.7383060332), (26.0456132796, -56.508050176), align=None)
        Polygon((54.2859423014, -30.4067455387), (53.1342179257, -27.8199302374), (44.3662195739, -29.6836258198), (46.1890190468, -38.2592231035), (59.8083680284, -38.2592231035), (222.6339746325, -3.6495720119), (220.2224478679, 7.6957694146), (66.4559514556, -24.9883083628), align=None)
        Polygon((66.4559514556, -24.9883083628), (53.1342179257, -27.8199302374), (54.2859423014, -30.4067455387), align=None)
        Polygon((37.225138396, -38.2592231035), (37.225138396, -47.0264043319), (50.546871926, -49.8580262065), (217.0100994408, -49.8580262065), (217.0100994408, -38.2592231035), (59.8083680284, -38.2592231035), (46.7777463385, -41.0289672464), (46.1890190468, -38.2592231035), align=None)
        Polygon((50.546871926, -49.8580262065), (37.225138396, -47.0264043319), (37.225138396, -49.8580262065), align=None)
        Polygon((59.8083680284, -38.2592231035), (46.1890190468, -38.2592231035), (46.7777463385, -41.0289672464), align=None)
    extrude(amount=-F6_DEPTH, mode=Mode.SUBTRACT)


solid = f1.part
